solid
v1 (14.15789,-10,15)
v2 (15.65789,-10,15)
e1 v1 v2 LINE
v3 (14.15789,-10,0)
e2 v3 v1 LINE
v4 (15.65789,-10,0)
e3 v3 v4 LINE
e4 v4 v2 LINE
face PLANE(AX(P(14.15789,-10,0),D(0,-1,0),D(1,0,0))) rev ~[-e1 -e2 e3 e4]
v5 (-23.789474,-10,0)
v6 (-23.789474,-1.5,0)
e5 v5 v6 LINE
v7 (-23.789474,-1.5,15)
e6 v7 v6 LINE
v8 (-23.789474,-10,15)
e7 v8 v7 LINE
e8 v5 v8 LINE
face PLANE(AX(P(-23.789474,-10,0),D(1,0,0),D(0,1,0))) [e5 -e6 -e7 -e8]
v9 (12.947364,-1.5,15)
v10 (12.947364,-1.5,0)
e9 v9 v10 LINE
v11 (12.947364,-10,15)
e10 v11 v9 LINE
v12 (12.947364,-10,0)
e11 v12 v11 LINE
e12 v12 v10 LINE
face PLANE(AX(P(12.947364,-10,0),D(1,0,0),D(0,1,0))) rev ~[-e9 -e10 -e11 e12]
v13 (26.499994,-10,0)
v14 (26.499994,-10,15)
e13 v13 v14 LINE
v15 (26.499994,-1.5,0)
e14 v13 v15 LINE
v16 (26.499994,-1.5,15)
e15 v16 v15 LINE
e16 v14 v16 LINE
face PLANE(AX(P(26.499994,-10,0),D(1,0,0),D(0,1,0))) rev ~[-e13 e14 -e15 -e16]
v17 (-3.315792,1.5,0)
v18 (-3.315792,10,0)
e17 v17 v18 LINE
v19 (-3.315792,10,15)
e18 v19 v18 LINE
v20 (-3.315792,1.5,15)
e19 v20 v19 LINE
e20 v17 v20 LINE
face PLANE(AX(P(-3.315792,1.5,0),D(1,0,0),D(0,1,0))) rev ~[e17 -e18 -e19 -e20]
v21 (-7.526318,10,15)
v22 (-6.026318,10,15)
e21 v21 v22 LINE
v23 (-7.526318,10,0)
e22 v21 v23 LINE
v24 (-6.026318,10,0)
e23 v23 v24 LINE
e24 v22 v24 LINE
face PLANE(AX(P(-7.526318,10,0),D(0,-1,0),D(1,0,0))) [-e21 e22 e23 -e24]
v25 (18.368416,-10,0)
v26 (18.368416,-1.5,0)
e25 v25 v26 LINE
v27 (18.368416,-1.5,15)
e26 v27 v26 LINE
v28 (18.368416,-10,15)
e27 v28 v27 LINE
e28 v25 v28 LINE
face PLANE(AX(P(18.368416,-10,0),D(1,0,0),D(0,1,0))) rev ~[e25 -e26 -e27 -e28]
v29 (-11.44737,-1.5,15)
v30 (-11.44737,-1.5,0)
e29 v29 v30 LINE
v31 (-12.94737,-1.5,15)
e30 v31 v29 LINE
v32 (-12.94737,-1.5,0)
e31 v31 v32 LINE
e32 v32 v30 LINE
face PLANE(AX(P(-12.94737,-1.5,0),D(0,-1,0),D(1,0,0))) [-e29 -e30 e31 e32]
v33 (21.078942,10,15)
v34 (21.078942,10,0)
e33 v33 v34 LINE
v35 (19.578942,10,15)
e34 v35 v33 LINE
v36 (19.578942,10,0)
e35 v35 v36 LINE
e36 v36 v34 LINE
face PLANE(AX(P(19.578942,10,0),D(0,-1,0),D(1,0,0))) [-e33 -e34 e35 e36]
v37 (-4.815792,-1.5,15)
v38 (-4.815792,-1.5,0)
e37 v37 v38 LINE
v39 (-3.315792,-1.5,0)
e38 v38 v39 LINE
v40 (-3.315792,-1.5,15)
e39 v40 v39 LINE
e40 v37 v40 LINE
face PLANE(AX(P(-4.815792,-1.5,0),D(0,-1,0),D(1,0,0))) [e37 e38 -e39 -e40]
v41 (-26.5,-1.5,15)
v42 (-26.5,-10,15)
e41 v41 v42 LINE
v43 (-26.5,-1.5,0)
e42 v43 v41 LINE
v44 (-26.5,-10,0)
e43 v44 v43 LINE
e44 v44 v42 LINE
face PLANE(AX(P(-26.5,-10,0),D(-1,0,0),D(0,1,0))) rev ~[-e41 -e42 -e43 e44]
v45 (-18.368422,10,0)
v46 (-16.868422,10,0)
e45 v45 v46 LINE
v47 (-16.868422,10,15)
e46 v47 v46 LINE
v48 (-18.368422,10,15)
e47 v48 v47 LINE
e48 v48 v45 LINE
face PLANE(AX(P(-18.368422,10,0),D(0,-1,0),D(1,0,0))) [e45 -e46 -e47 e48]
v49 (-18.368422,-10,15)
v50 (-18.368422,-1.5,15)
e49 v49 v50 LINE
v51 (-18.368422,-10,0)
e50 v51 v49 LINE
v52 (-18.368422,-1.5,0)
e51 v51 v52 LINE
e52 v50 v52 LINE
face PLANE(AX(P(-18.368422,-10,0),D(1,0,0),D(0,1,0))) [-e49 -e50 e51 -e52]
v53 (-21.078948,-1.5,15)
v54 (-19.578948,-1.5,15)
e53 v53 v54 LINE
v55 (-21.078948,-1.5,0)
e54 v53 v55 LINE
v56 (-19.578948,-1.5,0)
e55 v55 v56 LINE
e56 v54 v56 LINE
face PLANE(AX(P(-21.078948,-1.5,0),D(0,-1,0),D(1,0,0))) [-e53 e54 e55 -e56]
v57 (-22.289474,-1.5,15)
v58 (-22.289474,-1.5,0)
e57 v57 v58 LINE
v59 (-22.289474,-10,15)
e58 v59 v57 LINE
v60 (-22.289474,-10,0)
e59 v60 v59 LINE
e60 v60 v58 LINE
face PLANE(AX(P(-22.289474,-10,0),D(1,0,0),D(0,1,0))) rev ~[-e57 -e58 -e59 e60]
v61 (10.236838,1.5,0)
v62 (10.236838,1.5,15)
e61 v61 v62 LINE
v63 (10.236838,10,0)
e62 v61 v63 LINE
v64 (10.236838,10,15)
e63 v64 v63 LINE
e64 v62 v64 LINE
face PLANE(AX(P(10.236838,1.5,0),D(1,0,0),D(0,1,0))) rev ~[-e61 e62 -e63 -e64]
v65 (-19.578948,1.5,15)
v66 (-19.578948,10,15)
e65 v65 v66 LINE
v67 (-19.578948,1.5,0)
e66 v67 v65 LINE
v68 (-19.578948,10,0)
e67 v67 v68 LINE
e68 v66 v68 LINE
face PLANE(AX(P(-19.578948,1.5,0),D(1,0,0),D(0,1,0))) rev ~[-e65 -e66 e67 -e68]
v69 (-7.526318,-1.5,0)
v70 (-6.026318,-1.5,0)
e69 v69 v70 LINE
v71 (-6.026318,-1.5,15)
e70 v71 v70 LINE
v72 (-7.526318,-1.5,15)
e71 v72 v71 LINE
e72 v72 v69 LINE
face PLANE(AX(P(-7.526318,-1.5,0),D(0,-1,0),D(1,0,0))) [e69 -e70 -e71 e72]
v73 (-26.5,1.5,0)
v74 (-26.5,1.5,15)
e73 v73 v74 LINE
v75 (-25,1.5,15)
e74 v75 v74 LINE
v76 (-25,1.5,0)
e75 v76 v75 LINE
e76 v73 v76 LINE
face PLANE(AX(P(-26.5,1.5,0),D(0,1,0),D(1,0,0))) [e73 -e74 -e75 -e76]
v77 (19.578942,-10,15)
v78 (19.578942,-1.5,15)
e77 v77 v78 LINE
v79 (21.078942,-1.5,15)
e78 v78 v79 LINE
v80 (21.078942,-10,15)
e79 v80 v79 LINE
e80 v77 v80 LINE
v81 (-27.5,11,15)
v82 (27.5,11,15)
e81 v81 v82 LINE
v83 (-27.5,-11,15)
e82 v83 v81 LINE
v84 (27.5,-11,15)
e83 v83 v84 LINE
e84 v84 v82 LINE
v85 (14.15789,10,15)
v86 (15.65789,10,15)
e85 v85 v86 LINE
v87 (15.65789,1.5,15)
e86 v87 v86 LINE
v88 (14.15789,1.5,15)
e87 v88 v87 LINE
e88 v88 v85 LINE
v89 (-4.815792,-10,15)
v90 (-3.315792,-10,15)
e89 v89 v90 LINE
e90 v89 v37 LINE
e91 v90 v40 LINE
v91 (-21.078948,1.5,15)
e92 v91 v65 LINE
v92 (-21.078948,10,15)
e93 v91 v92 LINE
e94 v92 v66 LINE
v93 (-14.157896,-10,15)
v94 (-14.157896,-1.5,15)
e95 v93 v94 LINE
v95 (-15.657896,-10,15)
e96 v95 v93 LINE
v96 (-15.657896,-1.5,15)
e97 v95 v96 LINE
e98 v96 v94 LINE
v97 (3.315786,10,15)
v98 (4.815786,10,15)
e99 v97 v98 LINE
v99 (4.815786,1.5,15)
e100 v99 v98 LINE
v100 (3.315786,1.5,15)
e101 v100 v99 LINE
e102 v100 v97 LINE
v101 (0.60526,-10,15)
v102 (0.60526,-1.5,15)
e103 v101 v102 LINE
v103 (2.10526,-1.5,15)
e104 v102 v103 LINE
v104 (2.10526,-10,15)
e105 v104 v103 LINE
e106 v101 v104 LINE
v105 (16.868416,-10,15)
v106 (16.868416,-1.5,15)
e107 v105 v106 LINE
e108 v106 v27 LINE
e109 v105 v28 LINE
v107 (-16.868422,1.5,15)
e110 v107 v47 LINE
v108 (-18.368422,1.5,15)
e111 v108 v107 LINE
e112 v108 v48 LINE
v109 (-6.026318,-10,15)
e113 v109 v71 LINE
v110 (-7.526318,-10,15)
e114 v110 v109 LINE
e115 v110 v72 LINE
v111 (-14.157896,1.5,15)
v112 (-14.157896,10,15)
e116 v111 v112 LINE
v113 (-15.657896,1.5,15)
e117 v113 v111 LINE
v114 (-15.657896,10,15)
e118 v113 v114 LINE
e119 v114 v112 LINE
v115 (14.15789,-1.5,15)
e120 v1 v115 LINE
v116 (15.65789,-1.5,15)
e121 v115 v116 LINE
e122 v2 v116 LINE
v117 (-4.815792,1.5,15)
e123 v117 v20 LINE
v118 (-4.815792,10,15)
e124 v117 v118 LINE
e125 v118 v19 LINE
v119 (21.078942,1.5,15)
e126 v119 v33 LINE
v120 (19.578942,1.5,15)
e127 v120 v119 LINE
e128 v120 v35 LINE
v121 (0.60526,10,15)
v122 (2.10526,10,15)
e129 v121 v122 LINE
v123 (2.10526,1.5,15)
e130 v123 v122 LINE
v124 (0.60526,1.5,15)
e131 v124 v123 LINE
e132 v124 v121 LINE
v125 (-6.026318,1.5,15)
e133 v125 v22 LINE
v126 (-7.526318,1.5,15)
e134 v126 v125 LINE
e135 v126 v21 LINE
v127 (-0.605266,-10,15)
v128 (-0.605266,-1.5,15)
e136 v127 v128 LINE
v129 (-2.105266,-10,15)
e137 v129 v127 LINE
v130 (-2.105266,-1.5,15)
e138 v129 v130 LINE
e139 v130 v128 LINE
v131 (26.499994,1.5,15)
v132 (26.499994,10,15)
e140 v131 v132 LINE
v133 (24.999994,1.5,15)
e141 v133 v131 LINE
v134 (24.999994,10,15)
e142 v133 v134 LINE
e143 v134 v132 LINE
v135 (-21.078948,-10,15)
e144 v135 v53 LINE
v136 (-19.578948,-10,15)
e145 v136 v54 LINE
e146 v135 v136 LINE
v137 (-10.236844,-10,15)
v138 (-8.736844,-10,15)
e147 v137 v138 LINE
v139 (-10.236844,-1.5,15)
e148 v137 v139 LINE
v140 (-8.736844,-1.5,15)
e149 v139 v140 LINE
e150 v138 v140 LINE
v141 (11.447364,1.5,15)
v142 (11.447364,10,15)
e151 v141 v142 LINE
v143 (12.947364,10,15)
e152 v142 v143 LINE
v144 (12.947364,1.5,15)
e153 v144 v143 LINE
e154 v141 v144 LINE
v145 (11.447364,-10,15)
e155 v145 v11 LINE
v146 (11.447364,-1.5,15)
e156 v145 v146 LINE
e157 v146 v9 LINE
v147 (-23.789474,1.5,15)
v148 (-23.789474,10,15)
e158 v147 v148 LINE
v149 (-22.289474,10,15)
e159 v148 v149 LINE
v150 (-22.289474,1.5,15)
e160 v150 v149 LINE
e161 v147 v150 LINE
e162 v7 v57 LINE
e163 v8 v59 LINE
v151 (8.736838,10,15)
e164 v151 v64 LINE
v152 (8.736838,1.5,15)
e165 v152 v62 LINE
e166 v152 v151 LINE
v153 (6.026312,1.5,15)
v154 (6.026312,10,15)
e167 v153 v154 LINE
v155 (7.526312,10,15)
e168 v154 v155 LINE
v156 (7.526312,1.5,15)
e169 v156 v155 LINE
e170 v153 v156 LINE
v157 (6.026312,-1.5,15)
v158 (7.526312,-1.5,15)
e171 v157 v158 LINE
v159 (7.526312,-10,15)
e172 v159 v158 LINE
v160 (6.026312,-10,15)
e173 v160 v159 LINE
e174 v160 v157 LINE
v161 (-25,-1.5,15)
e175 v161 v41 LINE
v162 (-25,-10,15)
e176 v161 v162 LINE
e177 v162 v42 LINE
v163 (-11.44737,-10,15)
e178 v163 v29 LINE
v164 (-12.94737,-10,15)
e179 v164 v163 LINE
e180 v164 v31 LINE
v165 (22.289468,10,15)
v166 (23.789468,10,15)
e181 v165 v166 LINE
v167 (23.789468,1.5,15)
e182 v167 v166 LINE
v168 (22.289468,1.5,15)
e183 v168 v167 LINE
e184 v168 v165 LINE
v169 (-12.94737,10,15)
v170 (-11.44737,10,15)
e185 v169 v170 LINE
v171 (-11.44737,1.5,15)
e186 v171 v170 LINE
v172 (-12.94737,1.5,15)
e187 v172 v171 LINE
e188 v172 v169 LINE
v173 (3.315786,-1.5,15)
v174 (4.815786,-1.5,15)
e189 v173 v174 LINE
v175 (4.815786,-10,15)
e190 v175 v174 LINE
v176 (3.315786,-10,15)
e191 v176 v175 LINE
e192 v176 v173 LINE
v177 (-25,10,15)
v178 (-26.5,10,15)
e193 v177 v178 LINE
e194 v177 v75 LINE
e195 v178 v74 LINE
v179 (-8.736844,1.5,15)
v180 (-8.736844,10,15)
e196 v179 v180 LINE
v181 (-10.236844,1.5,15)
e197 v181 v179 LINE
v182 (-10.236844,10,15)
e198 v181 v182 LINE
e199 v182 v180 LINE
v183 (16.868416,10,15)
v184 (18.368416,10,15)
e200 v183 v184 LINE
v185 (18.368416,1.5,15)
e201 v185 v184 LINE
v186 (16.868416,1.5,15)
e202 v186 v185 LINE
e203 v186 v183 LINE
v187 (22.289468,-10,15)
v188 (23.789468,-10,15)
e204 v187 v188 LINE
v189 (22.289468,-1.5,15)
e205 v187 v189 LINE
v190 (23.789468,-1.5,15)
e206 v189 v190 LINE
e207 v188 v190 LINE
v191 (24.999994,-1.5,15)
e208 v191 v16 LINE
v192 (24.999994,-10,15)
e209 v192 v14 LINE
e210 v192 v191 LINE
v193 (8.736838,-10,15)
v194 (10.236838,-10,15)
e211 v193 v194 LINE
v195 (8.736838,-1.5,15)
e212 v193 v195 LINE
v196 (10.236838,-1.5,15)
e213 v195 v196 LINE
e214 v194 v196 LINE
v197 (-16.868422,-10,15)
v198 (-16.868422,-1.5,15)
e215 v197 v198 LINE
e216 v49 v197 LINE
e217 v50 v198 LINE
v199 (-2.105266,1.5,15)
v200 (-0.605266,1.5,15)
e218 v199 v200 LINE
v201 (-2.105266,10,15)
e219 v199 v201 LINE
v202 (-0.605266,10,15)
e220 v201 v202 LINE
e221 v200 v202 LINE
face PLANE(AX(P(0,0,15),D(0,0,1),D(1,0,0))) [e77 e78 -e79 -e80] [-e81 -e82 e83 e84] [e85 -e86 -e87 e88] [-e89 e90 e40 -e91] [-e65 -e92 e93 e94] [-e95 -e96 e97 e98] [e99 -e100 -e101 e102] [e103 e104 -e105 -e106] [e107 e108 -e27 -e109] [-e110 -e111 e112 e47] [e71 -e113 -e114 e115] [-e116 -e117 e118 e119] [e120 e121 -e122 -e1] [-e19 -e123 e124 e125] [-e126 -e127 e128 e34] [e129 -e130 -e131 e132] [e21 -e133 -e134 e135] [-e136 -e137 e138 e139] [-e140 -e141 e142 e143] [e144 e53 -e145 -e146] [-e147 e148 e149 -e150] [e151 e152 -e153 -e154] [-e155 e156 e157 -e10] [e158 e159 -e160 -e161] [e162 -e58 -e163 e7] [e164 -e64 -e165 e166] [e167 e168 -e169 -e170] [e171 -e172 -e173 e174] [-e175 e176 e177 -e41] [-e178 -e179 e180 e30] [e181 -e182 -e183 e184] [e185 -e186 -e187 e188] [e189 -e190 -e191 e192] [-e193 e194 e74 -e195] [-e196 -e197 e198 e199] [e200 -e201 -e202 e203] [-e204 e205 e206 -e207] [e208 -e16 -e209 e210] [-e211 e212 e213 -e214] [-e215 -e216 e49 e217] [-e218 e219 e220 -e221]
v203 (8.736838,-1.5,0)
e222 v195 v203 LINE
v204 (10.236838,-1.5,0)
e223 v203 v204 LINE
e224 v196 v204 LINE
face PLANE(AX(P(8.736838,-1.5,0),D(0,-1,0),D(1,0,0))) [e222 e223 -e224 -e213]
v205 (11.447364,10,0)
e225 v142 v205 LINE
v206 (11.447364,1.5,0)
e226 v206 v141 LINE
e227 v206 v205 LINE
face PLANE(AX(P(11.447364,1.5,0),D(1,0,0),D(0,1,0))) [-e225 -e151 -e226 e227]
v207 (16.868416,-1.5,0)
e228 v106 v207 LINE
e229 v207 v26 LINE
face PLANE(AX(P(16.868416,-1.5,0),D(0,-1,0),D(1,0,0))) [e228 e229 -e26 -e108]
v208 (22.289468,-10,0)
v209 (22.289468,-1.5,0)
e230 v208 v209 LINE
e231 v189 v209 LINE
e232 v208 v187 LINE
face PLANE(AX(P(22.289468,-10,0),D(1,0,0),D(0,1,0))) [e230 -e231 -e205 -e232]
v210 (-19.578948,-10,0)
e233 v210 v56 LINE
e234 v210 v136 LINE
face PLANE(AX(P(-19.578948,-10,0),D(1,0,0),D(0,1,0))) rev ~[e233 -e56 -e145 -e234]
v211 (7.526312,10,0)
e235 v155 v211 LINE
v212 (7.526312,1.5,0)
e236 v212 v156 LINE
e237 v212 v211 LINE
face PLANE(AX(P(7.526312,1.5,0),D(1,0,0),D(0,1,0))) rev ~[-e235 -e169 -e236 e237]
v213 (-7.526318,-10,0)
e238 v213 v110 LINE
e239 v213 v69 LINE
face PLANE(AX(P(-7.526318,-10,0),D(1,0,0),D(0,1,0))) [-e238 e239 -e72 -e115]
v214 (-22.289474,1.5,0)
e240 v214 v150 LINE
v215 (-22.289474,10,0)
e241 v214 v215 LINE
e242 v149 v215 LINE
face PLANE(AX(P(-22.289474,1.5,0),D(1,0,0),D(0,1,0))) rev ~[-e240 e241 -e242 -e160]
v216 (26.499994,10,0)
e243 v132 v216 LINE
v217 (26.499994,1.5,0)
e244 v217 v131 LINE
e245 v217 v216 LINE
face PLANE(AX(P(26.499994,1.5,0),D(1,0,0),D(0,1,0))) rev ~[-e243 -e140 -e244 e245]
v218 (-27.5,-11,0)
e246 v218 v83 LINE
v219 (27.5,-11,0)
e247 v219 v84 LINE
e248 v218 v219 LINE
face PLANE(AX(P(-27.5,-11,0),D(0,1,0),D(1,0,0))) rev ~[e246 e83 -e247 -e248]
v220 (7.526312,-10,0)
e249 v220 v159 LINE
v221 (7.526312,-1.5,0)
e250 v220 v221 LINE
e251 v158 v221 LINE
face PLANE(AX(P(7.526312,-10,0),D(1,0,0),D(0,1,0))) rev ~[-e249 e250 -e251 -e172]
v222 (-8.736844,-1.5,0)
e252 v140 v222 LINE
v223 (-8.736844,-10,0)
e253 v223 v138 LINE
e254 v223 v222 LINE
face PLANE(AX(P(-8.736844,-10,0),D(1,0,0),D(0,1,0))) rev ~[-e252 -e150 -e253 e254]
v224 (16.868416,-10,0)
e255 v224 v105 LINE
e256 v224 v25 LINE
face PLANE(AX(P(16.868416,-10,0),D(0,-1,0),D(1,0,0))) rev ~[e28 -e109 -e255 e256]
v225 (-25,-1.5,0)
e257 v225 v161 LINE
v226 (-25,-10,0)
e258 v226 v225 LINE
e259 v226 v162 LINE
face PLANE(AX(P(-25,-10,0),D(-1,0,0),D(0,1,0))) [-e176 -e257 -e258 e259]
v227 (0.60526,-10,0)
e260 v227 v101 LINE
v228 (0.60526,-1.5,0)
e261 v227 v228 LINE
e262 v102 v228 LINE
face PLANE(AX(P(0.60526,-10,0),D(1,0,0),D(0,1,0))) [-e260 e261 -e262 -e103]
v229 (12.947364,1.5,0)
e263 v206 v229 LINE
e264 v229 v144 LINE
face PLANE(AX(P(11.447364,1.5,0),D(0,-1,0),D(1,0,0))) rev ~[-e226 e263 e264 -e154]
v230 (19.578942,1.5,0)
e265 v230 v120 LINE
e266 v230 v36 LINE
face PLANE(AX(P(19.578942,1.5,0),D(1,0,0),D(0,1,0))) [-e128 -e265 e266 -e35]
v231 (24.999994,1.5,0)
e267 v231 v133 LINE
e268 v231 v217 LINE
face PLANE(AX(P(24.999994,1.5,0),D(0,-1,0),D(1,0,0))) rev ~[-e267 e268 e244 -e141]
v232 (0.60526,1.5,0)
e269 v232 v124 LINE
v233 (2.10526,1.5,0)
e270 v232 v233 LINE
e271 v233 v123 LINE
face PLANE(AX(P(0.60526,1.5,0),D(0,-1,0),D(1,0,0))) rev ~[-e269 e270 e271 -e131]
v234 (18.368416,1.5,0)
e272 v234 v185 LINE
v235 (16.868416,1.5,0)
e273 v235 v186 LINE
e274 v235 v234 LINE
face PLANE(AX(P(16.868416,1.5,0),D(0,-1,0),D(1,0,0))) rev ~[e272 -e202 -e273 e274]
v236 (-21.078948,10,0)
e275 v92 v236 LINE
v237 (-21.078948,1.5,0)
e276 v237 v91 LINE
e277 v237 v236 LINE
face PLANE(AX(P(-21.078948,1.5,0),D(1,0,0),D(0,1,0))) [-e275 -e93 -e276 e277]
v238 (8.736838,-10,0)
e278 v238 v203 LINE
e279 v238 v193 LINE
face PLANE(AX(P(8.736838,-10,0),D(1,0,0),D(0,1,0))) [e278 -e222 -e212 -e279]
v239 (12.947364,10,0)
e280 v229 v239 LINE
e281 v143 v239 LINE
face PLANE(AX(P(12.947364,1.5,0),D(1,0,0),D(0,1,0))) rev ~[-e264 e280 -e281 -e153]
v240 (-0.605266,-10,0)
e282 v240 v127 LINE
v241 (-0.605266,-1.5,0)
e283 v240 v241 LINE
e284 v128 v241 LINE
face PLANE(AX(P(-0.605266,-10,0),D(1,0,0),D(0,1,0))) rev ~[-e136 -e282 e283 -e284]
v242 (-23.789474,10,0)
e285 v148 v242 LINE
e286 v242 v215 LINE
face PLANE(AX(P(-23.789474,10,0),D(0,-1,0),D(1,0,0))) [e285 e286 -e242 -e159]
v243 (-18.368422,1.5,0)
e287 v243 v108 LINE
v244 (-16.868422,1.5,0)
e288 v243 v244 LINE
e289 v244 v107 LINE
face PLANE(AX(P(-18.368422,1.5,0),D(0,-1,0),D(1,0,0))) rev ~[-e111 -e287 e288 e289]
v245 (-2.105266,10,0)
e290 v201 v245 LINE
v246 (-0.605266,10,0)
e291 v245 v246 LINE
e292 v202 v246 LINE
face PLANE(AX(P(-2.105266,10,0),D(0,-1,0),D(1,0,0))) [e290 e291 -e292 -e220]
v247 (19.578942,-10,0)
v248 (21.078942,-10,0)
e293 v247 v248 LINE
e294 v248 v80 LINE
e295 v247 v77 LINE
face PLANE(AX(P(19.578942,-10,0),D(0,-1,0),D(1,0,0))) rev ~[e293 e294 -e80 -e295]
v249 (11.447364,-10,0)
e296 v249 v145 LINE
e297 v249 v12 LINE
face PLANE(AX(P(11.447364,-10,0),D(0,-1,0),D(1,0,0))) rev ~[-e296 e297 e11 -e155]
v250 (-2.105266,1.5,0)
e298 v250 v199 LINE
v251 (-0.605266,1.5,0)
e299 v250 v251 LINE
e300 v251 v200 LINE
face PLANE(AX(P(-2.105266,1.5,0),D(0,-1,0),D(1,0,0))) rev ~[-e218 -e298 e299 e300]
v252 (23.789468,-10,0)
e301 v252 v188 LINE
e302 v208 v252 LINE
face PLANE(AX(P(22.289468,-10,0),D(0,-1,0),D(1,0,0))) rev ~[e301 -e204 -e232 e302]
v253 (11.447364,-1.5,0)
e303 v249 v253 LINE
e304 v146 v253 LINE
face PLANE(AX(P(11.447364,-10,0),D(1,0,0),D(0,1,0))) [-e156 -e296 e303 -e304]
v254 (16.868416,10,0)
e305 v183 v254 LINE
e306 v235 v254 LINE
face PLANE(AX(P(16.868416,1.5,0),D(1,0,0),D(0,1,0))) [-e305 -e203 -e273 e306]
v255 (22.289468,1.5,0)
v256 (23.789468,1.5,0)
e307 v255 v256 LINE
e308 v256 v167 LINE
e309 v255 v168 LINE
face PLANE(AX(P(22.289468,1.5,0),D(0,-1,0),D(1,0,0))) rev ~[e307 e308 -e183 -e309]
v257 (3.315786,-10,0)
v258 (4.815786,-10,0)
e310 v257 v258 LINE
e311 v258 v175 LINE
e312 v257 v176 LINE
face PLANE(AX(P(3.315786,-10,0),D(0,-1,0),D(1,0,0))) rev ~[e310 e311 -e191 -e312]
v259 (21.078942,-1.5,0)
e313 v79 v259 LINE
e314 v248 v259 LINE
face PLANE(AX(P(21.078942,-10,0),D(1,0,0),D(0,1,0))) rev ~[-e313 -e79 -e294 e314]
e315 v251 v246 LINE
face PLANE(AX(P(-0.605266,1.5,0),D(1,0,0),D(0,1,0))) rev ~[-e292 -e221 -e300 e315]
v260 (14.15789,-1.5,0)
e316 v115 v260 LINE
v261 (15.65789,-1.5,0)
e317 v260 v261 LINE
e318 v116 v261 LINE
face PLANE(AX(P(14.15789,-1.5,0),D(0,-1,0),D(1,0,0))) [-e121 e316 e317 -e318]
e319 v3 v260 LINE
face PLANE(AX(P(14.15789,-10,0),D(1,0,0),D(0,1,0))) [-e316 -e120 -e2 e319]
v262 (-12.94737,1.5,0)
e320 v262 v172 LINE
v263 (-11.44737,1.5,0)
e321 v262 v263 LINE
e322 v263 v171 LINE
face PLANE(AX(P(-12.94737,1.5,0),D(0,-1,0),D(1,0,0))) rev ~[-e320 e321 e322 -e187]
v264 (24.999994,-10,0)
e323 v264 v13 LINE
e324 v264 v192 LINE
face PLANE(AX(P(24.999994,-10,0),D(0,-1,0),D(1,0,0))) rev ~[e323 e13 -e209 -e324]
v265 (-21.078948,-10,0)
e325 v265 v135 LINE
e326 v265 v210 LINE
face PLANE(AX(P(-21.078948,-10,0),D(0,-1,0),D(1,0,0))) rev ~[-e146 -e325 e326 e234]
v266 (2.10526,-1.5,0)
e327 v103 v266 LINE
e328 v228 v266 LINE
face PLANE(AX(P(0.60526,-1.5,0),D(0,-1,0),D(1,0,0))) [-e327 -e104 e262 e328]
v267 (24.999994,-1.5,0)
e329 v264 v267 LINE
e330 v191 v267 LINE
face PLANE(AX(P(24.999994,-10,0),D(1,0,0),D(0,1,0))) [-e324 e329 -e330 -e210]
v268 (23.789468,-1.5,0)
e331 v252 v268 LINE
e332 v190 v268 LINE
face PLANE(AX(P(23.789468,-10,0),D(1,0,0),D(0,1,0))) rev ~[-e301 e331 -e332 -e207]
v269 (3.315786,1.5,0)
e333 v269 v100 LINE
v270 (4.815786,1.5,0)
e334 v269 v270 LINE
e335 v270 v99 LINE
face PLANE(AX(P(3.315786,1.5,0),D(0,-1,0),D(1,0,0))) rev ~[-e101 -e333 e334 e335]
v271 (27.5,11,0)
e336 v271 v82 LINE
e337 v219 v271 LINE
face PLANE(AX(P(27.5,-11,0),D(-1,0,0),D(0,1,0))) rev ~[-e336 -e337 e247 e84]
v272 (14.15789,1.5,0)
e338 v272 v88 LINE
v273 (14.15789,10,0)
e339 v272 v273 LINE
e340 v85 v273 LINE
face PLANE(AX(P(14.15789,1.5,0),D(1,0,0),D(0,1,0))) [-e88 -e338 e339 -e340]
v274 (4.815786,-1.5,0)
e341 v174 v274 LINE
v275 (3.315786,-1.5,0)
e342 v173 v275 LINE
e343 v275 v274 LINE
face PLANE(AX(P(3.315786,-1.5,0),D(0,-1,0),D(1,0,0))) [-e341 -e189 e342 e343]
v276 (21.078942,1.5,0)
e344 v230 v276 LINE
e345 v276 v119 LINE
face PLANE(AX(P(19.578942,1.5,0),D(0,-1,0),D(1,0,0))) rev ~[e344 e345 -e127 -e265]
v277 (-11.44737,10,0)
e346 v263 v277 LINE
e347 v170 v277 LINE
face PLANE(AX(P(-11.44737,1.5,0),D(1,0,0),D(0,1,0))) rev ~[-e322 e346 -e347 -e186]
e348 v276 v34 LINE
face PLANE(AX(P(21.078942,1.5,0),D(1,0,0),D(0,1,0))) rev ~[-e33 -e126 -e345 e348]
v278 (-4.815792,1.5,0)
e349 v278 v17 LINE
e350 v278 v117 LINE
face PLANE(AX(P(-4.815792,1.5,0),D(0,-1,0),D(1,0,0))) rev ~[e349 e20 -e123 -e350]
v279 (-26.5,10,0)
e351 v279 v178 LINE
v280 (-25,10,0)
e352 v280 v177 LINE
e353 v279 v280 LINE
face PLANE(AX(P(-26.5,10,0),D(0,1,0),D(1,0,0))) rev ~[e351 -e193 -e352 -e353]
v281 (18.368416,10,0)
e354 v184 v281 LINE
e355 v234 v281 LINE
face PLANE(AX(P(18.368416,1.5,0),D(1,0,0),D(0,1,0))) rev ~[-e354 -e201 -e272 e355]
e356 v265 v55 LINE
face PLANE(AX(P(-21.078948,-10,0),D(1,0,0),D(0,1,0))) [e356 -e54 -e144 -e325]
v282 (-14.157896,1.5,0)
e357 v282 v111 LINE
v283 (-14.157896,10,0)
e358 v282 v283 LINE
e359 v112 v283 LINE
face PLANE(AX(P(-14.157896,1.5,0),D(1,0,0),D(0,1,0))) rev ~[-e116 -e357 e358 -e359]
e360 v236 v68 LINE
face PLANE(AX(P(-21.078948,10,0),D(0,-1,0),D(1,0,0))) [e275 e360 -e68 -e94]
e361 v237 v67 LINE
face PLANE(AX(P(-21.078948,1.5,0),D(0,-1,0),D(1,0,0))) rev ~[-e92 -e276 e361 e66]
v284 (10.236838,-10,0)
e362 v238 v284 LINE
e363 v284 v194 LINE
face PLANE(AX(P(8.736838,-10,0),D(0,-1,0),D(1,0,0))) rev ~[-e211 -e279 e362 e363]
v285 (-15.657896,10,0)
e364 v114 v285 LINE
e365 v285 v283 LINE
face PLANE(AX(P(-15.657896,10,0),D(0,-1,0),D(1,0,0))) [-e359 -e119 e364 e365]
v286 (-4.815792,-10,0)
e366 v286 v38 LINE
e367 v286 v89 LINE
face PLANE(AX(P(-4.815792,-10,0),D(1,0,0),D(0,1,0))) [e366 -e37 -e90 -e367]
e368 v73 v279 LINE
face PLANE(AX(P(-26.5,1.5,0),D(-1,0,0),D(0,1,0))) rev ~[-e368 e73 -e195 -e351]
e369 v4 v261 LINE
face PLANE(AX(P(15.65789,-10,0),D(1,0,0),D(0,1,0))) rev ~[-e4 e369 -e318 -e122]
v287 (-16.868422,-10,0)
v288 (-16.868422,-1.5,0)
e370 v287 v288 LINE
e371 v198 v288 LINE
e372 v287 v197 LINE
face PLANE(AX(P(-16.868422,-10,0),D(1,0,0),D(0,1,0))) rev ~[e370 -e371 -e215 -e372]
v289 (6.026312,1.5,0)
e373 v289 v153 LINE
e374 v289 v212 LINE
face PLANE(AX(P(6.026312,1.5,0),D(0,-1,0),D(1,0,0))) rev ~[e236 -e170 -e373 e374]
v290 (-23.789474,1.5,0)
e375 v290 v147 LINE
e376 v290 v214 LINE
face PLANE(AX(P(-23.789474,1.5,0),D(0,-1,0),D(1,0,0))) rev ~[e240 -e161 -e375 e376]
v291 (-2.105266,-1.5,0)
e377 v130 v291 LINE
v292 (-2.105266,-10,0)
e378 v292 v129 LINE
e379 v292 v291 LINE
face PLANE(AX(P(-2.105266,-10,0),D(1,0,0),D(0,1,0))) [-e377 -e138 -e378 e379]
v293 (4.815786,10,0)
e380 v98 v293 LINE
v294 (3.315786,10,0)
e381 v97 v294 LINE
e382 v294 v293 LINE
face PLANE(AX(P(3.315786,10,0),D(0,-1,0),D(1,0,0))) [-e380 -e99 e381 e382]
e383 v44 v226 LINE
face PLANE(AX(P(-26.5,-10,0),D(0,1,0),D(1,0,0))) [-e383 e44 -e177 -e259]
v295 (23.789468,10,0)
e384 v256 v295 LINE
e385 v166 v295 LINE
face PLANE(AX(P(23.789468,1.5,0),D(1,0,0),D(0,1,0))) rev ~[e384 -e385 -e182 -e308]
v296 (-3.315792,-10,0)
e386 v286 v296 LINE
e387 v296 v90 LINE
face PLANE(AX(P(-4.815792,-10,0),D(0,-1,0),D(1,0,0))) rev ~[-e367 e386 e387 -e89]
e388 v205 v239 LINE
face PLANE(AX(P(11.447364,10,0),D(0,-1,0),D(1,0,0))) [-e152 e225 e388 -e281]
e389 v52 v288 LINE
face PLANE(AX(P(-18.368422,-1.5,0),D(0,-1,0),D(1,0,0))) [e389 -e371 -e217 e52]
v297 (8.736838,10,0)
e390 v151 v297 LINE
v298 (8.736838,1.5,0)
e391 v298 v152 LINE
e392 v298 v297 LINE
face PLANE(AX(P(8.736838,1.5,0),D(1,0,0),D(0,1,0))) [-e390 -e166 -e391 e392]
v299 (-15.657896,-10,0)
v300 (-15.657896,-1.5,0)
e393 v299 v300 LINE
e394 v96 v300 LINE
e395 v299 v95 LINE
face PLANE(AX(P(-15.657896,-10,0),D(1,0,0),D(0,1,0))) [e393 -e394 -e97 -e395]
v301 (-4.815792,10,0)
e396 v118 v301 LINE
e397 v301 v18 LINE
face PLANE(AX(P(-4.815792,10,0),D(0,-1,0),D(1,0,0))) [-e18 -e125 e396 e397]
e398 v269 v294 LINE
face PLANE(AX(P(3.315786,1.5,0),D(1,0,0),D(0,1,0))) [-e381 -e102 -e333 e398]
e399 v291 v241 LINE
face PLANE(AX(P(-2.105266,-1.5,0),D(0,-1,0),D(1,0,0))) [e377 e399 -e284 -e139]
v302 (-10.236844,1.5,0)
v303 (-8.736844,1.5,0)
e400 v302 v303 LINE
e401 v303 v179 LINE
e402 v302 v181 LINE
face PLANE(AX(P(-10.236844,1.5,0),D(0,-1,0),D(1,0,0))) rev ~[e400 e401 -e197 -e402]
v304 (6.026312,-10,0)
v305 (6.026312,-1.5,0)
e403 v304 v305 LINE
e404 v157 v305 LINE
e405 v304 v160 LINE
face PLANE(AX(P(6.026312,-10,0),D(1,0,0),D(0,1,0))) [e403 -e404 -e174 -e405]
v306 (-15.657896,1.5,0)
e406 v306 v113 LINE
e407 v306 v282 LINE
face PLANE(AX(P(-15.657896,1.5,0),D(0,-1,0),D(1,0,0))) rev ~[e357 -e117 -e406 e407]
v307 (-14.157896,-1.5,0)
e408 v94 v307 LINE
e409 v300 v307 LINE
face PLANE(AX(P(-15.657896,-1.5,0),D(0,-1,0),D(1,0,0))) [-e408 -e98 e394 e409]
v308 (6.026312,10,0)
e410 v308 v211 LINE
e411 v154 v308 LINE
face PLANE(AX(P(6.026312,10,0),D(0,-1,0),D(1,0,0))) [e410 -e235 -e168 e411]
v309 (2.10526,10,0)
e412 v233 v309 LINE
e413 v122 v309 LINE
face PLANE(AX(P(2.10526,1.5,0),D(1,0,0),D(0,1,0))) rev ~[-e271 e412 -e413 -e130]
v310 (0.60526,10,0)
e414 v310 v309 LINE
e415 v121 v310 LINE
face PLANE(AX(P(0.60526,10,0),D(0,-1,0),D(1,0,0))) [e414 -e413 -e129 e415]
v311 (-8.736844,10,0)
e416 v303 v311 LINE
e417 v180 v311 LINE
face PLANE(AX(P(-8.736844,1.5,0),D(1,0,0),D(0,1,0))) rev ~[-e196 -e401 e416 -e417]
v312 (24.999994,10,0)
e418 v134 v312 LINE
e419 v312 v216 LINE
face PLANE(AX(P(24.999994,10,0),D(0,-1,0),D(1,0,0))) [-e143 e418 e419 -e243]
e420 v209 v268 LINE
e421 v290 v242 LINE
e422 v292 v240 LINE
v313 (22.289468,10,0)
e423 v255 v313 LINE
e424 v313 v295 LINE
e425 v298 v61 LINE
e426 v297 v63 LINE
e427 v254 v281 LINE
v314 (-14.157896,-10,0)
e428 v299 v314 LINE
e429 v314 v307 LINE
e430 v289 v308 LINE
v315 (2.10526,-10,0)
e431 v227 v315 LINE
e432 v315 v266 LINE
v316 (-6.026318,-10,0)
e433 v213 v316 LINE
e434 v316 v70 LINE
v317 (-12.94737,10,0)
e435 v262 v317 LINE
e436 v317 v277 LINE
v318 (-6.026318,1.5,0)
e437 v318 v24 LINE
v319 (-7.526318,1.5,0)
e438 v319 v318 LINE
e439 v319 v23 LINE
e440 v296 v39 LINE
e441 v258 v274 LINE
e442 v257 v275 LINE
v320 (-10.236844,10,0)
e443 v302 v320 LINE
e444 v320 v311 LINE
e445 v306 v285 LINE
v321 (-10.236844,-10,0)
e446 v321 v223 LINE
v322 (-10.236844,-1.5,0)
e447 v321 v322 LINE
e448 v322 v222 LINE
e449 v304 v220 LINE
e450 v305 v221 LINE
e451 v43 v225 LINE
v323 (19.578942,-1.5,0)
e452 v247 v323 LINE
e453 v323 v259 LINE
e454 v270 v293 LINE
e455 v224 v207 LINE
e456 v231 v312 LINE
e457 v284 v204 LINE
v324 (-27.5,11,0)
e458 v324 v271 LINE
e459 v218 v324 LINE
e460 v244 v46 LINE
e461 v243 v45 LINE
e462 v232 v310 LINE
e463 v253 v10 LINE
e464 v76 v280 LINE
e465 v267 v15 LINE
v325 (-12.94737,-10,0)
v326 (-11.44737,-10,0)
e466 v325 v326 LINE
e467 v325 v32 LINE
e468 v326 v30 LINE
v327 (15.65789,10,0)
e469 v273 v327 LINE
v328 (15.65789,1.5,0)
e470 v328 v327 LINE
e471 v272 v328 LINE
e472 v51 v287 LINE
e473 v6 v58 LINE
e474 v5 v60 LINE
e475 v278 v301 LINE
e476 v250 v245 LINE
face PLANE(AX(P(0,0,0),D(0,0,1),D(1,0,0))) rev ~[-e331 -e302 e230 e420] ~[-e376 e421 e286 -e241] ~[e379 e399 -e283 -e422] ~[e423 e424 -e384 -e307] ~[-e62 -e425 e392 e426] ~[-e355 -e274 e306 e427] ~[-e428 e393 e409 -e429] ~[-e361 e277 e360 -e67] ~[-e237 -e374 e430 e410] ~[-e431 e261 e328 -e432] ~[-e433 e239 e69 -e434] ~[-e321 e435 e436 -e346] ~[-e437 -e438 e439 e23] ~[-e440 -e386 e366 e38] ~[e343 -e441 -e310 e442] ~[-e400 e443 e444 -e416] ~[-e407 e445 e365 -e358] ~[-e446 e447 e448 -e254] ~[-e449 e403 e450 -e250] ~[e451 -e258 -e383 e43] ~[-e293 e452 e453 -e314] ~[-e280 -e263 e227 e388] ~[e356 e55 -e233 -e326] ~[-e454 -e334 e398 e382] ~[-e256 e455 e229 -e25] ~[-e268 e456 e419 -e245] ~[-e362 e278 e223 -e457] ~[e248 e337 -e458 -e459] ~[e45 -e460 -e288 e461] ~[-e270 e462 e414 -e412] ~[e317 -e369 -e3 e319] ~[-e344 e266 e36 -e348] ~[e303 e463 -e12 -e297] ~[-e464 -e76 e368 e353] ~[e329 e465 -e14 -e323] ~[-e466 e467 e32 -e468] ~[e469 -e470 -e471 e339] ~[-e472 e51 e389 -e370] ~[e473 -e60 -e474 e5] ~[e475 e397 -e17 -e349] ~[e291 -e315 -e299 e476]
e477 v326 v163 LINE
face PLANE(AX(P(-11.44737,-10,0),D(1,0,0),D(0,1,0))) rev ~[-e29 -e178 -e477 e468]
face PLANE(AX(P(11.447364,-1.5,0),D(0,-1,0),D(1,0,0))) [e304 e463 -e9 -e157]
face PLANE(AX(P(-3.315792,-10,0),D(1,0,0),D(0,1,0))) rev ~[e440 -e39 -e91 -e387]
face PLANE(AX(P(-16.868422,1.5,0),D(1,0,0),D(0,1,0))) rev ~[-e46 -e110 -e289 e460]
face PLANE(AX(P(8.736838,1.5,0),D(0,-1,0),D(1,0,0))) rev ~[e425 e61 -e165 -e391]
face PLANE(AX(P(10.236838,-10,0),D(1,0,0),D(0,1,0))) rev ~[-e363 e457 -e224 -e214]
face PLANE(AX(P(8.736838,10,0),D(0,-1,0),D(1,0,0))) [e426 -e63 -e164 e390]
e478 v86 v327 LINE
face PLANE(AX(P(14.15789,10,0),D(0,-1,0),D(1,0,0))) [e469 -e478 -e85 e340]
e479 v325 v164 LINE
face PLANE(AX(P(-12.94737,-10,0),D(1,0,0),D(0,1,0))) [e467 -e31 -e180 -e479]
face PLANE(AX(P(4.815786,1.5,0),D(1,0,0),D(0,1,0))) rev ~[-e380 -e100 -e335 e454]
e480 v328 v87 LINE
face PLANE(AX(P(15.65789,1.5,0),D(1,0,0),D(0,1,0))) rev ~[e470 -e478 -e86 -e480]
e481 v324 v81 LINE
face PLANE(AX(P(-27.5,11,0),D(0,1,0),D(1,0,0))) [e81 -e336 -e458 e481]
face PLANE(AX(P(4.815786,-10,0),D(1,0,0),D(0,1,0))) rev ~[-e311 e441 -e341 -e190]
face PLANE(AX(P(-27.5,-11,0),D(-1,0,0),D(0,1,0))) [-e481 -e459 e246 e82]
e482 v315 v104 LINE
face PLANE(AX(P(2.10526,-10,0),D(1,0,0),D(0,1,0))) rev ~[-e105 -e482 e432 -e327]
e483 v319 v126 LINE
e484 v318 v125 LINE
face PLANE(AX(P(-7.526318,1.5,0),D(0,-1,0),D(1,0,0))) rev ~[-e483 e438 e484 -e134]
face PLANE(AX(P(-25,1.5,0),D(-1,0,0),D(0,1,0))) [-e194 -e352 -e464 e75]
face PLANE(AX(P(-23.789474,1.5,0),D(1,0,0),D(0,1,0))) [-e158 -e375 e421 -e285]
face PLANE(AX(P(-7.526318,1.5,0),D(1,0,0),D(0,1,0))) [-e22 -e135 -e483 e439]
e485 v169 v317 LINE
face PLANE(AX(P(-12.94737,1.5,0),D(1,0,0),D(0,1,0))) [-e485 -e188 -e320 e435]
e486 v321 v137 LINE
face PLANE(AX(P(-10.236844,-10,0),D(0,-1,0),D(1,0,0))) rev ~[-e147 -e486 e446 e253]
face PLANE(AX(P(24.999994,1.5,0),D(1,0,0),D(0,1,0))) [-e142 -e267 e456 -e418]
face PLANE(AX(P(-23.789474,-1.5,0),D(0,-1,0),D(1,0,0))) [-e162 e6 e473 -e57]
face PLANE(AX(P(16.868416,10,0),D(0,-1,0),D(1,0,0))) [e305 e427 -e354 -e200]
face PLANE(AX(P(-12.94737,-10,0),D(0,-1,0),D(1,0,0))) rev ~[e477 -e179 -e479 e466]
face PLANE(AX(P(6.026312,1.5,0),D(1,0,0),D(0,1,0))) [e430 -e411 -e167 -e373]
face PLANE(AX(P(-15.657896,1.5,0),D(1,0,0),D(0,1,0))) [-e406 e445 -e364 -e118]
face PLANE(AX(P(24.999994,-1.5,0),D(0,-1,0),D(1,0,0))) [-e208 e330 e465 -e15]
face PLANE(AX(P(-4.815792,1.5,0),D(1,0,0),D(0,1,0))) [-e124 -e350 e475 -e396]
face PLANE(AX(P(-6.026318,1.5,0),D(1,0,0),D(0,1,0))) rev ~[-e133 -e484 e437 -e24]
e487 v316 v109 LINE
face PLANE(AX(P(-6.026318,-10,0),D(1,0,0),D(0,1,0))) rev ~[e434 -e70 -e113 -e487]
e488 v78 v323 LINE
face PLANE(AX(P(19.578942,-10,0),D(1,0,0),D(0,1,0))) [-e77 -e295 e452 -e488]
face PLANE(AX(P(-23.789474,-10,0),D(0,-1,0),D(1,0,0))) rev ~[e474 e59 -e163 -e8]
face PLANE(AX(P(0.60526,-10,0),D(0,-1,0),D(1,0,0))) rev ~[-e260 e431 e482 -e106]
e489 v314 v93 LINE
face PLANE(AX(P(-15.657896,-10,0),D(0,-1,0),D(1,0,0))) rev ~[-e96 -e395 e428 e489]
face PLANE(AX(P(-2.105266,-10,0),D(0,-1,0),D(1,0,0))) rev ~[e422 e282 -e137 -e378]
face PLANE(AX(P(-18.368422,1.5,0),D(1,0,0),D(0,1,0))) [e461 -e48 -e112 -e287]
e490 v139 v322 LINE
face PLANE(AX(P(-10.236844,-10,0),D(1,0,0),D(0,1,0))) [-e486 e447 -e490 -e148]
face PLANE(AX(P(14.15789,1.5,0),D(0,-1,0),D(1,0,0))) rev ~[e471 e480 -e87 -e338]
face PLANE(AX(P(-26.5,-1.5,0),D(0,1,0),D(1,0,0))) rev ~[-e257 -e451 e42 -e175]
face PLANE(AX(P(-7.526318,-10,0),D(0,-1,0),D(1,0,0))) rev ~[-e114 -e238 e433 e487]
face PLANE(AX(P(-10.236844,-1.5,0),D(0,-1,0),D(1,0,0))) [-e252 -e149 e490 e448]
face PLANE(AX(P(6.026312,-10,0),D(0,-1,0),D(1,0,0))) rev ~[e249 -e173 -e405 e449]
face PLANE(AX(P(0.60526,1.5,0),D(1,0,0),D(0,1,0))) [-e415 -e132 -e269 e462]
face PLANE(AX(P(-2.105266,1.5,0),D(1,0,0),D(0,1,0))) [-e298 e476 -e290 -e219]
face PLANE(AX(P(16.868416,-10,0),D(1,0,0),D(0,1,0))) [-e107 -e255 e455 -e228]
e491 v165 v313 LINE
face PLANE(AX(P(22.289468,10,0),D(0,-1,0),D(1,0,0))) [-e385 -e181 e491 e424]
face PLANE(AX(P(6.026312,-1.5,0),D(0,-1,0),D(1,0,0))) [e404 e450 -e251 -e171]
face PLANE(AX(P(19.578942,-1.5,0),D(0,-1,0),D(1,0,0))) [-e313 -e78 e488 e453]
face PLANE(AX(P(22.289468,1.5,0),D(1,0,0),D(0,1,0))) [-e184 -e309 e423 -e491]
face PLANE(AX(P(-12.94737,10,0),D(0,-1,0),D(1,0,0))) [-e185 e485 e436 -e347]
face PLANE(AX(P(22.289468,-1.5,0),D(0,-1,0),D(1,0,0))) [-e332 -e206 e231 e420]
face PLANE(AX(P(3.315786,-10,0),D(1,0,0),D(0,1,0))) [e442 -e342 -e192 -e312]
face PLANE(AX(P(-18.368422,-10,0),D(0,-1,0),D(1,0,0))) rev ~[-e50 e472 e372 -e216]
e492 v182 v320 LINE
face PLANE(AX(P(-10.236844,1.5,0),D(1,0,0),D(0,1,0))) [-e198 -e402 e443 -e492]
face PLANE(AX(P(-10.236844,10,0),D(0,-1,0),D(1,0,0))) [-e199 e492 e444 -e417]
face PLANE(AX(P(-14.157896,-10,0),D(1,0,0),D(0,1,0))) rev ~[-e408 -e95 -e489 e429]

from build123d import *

# Parameters (mm, degrees)
SKETCH031_W          = 55
SKETCH031_H          = 22
PAD010_DEPTH         = 15
SKETCH032_W          = 1.5
SKETCH032_H          = 8.5
POCKET010_DEPTH      = 0.001
POCKET010_DEPTH_BACK = 15.001
LINEARPATTERN_COUNT  = 20
LINEARPATTERN_PITCH  = 2.710526


with BuildPart() as part:
    # Sketch031 → Pad010 (new body)
    with BuildSketch(Plane.XY):
        Rectangle(SKETCH031_W, SKETCH031_H)
    extrude(amount=PAD010_DEPTH)

    # Sketch032 → Pocket010 (cut, two sides)
    with BuildSketch(Plane.XY) as pocket010_sk:
        with Locations((-25.75, 5.75)):
            Rectangle(SKETCH032_W, SKETCH032_H)
        with Locations((-25.75, -5.75)):
            Rectangle(SKETCH032_W, SKETCH032_H)
    pocket010 = extrude(amount=-POCKET010_DEPTH, mode=Mode.SUBTRACT) + extrude(pocket010_sk.sketch, amount=POCKET010_DEPTH_BACK, mode=Mode.SUBTRACT)

    # LinearPattern: Pocket010 ×20
    with Locations(*[(i * LINEARPATTERN_PITCH, 0, 0) for i in range(1, LINEARPATTERN_COUNT)]):
        add(pocket010, mode=Mode.SUBTRACT)


solid = part.part
